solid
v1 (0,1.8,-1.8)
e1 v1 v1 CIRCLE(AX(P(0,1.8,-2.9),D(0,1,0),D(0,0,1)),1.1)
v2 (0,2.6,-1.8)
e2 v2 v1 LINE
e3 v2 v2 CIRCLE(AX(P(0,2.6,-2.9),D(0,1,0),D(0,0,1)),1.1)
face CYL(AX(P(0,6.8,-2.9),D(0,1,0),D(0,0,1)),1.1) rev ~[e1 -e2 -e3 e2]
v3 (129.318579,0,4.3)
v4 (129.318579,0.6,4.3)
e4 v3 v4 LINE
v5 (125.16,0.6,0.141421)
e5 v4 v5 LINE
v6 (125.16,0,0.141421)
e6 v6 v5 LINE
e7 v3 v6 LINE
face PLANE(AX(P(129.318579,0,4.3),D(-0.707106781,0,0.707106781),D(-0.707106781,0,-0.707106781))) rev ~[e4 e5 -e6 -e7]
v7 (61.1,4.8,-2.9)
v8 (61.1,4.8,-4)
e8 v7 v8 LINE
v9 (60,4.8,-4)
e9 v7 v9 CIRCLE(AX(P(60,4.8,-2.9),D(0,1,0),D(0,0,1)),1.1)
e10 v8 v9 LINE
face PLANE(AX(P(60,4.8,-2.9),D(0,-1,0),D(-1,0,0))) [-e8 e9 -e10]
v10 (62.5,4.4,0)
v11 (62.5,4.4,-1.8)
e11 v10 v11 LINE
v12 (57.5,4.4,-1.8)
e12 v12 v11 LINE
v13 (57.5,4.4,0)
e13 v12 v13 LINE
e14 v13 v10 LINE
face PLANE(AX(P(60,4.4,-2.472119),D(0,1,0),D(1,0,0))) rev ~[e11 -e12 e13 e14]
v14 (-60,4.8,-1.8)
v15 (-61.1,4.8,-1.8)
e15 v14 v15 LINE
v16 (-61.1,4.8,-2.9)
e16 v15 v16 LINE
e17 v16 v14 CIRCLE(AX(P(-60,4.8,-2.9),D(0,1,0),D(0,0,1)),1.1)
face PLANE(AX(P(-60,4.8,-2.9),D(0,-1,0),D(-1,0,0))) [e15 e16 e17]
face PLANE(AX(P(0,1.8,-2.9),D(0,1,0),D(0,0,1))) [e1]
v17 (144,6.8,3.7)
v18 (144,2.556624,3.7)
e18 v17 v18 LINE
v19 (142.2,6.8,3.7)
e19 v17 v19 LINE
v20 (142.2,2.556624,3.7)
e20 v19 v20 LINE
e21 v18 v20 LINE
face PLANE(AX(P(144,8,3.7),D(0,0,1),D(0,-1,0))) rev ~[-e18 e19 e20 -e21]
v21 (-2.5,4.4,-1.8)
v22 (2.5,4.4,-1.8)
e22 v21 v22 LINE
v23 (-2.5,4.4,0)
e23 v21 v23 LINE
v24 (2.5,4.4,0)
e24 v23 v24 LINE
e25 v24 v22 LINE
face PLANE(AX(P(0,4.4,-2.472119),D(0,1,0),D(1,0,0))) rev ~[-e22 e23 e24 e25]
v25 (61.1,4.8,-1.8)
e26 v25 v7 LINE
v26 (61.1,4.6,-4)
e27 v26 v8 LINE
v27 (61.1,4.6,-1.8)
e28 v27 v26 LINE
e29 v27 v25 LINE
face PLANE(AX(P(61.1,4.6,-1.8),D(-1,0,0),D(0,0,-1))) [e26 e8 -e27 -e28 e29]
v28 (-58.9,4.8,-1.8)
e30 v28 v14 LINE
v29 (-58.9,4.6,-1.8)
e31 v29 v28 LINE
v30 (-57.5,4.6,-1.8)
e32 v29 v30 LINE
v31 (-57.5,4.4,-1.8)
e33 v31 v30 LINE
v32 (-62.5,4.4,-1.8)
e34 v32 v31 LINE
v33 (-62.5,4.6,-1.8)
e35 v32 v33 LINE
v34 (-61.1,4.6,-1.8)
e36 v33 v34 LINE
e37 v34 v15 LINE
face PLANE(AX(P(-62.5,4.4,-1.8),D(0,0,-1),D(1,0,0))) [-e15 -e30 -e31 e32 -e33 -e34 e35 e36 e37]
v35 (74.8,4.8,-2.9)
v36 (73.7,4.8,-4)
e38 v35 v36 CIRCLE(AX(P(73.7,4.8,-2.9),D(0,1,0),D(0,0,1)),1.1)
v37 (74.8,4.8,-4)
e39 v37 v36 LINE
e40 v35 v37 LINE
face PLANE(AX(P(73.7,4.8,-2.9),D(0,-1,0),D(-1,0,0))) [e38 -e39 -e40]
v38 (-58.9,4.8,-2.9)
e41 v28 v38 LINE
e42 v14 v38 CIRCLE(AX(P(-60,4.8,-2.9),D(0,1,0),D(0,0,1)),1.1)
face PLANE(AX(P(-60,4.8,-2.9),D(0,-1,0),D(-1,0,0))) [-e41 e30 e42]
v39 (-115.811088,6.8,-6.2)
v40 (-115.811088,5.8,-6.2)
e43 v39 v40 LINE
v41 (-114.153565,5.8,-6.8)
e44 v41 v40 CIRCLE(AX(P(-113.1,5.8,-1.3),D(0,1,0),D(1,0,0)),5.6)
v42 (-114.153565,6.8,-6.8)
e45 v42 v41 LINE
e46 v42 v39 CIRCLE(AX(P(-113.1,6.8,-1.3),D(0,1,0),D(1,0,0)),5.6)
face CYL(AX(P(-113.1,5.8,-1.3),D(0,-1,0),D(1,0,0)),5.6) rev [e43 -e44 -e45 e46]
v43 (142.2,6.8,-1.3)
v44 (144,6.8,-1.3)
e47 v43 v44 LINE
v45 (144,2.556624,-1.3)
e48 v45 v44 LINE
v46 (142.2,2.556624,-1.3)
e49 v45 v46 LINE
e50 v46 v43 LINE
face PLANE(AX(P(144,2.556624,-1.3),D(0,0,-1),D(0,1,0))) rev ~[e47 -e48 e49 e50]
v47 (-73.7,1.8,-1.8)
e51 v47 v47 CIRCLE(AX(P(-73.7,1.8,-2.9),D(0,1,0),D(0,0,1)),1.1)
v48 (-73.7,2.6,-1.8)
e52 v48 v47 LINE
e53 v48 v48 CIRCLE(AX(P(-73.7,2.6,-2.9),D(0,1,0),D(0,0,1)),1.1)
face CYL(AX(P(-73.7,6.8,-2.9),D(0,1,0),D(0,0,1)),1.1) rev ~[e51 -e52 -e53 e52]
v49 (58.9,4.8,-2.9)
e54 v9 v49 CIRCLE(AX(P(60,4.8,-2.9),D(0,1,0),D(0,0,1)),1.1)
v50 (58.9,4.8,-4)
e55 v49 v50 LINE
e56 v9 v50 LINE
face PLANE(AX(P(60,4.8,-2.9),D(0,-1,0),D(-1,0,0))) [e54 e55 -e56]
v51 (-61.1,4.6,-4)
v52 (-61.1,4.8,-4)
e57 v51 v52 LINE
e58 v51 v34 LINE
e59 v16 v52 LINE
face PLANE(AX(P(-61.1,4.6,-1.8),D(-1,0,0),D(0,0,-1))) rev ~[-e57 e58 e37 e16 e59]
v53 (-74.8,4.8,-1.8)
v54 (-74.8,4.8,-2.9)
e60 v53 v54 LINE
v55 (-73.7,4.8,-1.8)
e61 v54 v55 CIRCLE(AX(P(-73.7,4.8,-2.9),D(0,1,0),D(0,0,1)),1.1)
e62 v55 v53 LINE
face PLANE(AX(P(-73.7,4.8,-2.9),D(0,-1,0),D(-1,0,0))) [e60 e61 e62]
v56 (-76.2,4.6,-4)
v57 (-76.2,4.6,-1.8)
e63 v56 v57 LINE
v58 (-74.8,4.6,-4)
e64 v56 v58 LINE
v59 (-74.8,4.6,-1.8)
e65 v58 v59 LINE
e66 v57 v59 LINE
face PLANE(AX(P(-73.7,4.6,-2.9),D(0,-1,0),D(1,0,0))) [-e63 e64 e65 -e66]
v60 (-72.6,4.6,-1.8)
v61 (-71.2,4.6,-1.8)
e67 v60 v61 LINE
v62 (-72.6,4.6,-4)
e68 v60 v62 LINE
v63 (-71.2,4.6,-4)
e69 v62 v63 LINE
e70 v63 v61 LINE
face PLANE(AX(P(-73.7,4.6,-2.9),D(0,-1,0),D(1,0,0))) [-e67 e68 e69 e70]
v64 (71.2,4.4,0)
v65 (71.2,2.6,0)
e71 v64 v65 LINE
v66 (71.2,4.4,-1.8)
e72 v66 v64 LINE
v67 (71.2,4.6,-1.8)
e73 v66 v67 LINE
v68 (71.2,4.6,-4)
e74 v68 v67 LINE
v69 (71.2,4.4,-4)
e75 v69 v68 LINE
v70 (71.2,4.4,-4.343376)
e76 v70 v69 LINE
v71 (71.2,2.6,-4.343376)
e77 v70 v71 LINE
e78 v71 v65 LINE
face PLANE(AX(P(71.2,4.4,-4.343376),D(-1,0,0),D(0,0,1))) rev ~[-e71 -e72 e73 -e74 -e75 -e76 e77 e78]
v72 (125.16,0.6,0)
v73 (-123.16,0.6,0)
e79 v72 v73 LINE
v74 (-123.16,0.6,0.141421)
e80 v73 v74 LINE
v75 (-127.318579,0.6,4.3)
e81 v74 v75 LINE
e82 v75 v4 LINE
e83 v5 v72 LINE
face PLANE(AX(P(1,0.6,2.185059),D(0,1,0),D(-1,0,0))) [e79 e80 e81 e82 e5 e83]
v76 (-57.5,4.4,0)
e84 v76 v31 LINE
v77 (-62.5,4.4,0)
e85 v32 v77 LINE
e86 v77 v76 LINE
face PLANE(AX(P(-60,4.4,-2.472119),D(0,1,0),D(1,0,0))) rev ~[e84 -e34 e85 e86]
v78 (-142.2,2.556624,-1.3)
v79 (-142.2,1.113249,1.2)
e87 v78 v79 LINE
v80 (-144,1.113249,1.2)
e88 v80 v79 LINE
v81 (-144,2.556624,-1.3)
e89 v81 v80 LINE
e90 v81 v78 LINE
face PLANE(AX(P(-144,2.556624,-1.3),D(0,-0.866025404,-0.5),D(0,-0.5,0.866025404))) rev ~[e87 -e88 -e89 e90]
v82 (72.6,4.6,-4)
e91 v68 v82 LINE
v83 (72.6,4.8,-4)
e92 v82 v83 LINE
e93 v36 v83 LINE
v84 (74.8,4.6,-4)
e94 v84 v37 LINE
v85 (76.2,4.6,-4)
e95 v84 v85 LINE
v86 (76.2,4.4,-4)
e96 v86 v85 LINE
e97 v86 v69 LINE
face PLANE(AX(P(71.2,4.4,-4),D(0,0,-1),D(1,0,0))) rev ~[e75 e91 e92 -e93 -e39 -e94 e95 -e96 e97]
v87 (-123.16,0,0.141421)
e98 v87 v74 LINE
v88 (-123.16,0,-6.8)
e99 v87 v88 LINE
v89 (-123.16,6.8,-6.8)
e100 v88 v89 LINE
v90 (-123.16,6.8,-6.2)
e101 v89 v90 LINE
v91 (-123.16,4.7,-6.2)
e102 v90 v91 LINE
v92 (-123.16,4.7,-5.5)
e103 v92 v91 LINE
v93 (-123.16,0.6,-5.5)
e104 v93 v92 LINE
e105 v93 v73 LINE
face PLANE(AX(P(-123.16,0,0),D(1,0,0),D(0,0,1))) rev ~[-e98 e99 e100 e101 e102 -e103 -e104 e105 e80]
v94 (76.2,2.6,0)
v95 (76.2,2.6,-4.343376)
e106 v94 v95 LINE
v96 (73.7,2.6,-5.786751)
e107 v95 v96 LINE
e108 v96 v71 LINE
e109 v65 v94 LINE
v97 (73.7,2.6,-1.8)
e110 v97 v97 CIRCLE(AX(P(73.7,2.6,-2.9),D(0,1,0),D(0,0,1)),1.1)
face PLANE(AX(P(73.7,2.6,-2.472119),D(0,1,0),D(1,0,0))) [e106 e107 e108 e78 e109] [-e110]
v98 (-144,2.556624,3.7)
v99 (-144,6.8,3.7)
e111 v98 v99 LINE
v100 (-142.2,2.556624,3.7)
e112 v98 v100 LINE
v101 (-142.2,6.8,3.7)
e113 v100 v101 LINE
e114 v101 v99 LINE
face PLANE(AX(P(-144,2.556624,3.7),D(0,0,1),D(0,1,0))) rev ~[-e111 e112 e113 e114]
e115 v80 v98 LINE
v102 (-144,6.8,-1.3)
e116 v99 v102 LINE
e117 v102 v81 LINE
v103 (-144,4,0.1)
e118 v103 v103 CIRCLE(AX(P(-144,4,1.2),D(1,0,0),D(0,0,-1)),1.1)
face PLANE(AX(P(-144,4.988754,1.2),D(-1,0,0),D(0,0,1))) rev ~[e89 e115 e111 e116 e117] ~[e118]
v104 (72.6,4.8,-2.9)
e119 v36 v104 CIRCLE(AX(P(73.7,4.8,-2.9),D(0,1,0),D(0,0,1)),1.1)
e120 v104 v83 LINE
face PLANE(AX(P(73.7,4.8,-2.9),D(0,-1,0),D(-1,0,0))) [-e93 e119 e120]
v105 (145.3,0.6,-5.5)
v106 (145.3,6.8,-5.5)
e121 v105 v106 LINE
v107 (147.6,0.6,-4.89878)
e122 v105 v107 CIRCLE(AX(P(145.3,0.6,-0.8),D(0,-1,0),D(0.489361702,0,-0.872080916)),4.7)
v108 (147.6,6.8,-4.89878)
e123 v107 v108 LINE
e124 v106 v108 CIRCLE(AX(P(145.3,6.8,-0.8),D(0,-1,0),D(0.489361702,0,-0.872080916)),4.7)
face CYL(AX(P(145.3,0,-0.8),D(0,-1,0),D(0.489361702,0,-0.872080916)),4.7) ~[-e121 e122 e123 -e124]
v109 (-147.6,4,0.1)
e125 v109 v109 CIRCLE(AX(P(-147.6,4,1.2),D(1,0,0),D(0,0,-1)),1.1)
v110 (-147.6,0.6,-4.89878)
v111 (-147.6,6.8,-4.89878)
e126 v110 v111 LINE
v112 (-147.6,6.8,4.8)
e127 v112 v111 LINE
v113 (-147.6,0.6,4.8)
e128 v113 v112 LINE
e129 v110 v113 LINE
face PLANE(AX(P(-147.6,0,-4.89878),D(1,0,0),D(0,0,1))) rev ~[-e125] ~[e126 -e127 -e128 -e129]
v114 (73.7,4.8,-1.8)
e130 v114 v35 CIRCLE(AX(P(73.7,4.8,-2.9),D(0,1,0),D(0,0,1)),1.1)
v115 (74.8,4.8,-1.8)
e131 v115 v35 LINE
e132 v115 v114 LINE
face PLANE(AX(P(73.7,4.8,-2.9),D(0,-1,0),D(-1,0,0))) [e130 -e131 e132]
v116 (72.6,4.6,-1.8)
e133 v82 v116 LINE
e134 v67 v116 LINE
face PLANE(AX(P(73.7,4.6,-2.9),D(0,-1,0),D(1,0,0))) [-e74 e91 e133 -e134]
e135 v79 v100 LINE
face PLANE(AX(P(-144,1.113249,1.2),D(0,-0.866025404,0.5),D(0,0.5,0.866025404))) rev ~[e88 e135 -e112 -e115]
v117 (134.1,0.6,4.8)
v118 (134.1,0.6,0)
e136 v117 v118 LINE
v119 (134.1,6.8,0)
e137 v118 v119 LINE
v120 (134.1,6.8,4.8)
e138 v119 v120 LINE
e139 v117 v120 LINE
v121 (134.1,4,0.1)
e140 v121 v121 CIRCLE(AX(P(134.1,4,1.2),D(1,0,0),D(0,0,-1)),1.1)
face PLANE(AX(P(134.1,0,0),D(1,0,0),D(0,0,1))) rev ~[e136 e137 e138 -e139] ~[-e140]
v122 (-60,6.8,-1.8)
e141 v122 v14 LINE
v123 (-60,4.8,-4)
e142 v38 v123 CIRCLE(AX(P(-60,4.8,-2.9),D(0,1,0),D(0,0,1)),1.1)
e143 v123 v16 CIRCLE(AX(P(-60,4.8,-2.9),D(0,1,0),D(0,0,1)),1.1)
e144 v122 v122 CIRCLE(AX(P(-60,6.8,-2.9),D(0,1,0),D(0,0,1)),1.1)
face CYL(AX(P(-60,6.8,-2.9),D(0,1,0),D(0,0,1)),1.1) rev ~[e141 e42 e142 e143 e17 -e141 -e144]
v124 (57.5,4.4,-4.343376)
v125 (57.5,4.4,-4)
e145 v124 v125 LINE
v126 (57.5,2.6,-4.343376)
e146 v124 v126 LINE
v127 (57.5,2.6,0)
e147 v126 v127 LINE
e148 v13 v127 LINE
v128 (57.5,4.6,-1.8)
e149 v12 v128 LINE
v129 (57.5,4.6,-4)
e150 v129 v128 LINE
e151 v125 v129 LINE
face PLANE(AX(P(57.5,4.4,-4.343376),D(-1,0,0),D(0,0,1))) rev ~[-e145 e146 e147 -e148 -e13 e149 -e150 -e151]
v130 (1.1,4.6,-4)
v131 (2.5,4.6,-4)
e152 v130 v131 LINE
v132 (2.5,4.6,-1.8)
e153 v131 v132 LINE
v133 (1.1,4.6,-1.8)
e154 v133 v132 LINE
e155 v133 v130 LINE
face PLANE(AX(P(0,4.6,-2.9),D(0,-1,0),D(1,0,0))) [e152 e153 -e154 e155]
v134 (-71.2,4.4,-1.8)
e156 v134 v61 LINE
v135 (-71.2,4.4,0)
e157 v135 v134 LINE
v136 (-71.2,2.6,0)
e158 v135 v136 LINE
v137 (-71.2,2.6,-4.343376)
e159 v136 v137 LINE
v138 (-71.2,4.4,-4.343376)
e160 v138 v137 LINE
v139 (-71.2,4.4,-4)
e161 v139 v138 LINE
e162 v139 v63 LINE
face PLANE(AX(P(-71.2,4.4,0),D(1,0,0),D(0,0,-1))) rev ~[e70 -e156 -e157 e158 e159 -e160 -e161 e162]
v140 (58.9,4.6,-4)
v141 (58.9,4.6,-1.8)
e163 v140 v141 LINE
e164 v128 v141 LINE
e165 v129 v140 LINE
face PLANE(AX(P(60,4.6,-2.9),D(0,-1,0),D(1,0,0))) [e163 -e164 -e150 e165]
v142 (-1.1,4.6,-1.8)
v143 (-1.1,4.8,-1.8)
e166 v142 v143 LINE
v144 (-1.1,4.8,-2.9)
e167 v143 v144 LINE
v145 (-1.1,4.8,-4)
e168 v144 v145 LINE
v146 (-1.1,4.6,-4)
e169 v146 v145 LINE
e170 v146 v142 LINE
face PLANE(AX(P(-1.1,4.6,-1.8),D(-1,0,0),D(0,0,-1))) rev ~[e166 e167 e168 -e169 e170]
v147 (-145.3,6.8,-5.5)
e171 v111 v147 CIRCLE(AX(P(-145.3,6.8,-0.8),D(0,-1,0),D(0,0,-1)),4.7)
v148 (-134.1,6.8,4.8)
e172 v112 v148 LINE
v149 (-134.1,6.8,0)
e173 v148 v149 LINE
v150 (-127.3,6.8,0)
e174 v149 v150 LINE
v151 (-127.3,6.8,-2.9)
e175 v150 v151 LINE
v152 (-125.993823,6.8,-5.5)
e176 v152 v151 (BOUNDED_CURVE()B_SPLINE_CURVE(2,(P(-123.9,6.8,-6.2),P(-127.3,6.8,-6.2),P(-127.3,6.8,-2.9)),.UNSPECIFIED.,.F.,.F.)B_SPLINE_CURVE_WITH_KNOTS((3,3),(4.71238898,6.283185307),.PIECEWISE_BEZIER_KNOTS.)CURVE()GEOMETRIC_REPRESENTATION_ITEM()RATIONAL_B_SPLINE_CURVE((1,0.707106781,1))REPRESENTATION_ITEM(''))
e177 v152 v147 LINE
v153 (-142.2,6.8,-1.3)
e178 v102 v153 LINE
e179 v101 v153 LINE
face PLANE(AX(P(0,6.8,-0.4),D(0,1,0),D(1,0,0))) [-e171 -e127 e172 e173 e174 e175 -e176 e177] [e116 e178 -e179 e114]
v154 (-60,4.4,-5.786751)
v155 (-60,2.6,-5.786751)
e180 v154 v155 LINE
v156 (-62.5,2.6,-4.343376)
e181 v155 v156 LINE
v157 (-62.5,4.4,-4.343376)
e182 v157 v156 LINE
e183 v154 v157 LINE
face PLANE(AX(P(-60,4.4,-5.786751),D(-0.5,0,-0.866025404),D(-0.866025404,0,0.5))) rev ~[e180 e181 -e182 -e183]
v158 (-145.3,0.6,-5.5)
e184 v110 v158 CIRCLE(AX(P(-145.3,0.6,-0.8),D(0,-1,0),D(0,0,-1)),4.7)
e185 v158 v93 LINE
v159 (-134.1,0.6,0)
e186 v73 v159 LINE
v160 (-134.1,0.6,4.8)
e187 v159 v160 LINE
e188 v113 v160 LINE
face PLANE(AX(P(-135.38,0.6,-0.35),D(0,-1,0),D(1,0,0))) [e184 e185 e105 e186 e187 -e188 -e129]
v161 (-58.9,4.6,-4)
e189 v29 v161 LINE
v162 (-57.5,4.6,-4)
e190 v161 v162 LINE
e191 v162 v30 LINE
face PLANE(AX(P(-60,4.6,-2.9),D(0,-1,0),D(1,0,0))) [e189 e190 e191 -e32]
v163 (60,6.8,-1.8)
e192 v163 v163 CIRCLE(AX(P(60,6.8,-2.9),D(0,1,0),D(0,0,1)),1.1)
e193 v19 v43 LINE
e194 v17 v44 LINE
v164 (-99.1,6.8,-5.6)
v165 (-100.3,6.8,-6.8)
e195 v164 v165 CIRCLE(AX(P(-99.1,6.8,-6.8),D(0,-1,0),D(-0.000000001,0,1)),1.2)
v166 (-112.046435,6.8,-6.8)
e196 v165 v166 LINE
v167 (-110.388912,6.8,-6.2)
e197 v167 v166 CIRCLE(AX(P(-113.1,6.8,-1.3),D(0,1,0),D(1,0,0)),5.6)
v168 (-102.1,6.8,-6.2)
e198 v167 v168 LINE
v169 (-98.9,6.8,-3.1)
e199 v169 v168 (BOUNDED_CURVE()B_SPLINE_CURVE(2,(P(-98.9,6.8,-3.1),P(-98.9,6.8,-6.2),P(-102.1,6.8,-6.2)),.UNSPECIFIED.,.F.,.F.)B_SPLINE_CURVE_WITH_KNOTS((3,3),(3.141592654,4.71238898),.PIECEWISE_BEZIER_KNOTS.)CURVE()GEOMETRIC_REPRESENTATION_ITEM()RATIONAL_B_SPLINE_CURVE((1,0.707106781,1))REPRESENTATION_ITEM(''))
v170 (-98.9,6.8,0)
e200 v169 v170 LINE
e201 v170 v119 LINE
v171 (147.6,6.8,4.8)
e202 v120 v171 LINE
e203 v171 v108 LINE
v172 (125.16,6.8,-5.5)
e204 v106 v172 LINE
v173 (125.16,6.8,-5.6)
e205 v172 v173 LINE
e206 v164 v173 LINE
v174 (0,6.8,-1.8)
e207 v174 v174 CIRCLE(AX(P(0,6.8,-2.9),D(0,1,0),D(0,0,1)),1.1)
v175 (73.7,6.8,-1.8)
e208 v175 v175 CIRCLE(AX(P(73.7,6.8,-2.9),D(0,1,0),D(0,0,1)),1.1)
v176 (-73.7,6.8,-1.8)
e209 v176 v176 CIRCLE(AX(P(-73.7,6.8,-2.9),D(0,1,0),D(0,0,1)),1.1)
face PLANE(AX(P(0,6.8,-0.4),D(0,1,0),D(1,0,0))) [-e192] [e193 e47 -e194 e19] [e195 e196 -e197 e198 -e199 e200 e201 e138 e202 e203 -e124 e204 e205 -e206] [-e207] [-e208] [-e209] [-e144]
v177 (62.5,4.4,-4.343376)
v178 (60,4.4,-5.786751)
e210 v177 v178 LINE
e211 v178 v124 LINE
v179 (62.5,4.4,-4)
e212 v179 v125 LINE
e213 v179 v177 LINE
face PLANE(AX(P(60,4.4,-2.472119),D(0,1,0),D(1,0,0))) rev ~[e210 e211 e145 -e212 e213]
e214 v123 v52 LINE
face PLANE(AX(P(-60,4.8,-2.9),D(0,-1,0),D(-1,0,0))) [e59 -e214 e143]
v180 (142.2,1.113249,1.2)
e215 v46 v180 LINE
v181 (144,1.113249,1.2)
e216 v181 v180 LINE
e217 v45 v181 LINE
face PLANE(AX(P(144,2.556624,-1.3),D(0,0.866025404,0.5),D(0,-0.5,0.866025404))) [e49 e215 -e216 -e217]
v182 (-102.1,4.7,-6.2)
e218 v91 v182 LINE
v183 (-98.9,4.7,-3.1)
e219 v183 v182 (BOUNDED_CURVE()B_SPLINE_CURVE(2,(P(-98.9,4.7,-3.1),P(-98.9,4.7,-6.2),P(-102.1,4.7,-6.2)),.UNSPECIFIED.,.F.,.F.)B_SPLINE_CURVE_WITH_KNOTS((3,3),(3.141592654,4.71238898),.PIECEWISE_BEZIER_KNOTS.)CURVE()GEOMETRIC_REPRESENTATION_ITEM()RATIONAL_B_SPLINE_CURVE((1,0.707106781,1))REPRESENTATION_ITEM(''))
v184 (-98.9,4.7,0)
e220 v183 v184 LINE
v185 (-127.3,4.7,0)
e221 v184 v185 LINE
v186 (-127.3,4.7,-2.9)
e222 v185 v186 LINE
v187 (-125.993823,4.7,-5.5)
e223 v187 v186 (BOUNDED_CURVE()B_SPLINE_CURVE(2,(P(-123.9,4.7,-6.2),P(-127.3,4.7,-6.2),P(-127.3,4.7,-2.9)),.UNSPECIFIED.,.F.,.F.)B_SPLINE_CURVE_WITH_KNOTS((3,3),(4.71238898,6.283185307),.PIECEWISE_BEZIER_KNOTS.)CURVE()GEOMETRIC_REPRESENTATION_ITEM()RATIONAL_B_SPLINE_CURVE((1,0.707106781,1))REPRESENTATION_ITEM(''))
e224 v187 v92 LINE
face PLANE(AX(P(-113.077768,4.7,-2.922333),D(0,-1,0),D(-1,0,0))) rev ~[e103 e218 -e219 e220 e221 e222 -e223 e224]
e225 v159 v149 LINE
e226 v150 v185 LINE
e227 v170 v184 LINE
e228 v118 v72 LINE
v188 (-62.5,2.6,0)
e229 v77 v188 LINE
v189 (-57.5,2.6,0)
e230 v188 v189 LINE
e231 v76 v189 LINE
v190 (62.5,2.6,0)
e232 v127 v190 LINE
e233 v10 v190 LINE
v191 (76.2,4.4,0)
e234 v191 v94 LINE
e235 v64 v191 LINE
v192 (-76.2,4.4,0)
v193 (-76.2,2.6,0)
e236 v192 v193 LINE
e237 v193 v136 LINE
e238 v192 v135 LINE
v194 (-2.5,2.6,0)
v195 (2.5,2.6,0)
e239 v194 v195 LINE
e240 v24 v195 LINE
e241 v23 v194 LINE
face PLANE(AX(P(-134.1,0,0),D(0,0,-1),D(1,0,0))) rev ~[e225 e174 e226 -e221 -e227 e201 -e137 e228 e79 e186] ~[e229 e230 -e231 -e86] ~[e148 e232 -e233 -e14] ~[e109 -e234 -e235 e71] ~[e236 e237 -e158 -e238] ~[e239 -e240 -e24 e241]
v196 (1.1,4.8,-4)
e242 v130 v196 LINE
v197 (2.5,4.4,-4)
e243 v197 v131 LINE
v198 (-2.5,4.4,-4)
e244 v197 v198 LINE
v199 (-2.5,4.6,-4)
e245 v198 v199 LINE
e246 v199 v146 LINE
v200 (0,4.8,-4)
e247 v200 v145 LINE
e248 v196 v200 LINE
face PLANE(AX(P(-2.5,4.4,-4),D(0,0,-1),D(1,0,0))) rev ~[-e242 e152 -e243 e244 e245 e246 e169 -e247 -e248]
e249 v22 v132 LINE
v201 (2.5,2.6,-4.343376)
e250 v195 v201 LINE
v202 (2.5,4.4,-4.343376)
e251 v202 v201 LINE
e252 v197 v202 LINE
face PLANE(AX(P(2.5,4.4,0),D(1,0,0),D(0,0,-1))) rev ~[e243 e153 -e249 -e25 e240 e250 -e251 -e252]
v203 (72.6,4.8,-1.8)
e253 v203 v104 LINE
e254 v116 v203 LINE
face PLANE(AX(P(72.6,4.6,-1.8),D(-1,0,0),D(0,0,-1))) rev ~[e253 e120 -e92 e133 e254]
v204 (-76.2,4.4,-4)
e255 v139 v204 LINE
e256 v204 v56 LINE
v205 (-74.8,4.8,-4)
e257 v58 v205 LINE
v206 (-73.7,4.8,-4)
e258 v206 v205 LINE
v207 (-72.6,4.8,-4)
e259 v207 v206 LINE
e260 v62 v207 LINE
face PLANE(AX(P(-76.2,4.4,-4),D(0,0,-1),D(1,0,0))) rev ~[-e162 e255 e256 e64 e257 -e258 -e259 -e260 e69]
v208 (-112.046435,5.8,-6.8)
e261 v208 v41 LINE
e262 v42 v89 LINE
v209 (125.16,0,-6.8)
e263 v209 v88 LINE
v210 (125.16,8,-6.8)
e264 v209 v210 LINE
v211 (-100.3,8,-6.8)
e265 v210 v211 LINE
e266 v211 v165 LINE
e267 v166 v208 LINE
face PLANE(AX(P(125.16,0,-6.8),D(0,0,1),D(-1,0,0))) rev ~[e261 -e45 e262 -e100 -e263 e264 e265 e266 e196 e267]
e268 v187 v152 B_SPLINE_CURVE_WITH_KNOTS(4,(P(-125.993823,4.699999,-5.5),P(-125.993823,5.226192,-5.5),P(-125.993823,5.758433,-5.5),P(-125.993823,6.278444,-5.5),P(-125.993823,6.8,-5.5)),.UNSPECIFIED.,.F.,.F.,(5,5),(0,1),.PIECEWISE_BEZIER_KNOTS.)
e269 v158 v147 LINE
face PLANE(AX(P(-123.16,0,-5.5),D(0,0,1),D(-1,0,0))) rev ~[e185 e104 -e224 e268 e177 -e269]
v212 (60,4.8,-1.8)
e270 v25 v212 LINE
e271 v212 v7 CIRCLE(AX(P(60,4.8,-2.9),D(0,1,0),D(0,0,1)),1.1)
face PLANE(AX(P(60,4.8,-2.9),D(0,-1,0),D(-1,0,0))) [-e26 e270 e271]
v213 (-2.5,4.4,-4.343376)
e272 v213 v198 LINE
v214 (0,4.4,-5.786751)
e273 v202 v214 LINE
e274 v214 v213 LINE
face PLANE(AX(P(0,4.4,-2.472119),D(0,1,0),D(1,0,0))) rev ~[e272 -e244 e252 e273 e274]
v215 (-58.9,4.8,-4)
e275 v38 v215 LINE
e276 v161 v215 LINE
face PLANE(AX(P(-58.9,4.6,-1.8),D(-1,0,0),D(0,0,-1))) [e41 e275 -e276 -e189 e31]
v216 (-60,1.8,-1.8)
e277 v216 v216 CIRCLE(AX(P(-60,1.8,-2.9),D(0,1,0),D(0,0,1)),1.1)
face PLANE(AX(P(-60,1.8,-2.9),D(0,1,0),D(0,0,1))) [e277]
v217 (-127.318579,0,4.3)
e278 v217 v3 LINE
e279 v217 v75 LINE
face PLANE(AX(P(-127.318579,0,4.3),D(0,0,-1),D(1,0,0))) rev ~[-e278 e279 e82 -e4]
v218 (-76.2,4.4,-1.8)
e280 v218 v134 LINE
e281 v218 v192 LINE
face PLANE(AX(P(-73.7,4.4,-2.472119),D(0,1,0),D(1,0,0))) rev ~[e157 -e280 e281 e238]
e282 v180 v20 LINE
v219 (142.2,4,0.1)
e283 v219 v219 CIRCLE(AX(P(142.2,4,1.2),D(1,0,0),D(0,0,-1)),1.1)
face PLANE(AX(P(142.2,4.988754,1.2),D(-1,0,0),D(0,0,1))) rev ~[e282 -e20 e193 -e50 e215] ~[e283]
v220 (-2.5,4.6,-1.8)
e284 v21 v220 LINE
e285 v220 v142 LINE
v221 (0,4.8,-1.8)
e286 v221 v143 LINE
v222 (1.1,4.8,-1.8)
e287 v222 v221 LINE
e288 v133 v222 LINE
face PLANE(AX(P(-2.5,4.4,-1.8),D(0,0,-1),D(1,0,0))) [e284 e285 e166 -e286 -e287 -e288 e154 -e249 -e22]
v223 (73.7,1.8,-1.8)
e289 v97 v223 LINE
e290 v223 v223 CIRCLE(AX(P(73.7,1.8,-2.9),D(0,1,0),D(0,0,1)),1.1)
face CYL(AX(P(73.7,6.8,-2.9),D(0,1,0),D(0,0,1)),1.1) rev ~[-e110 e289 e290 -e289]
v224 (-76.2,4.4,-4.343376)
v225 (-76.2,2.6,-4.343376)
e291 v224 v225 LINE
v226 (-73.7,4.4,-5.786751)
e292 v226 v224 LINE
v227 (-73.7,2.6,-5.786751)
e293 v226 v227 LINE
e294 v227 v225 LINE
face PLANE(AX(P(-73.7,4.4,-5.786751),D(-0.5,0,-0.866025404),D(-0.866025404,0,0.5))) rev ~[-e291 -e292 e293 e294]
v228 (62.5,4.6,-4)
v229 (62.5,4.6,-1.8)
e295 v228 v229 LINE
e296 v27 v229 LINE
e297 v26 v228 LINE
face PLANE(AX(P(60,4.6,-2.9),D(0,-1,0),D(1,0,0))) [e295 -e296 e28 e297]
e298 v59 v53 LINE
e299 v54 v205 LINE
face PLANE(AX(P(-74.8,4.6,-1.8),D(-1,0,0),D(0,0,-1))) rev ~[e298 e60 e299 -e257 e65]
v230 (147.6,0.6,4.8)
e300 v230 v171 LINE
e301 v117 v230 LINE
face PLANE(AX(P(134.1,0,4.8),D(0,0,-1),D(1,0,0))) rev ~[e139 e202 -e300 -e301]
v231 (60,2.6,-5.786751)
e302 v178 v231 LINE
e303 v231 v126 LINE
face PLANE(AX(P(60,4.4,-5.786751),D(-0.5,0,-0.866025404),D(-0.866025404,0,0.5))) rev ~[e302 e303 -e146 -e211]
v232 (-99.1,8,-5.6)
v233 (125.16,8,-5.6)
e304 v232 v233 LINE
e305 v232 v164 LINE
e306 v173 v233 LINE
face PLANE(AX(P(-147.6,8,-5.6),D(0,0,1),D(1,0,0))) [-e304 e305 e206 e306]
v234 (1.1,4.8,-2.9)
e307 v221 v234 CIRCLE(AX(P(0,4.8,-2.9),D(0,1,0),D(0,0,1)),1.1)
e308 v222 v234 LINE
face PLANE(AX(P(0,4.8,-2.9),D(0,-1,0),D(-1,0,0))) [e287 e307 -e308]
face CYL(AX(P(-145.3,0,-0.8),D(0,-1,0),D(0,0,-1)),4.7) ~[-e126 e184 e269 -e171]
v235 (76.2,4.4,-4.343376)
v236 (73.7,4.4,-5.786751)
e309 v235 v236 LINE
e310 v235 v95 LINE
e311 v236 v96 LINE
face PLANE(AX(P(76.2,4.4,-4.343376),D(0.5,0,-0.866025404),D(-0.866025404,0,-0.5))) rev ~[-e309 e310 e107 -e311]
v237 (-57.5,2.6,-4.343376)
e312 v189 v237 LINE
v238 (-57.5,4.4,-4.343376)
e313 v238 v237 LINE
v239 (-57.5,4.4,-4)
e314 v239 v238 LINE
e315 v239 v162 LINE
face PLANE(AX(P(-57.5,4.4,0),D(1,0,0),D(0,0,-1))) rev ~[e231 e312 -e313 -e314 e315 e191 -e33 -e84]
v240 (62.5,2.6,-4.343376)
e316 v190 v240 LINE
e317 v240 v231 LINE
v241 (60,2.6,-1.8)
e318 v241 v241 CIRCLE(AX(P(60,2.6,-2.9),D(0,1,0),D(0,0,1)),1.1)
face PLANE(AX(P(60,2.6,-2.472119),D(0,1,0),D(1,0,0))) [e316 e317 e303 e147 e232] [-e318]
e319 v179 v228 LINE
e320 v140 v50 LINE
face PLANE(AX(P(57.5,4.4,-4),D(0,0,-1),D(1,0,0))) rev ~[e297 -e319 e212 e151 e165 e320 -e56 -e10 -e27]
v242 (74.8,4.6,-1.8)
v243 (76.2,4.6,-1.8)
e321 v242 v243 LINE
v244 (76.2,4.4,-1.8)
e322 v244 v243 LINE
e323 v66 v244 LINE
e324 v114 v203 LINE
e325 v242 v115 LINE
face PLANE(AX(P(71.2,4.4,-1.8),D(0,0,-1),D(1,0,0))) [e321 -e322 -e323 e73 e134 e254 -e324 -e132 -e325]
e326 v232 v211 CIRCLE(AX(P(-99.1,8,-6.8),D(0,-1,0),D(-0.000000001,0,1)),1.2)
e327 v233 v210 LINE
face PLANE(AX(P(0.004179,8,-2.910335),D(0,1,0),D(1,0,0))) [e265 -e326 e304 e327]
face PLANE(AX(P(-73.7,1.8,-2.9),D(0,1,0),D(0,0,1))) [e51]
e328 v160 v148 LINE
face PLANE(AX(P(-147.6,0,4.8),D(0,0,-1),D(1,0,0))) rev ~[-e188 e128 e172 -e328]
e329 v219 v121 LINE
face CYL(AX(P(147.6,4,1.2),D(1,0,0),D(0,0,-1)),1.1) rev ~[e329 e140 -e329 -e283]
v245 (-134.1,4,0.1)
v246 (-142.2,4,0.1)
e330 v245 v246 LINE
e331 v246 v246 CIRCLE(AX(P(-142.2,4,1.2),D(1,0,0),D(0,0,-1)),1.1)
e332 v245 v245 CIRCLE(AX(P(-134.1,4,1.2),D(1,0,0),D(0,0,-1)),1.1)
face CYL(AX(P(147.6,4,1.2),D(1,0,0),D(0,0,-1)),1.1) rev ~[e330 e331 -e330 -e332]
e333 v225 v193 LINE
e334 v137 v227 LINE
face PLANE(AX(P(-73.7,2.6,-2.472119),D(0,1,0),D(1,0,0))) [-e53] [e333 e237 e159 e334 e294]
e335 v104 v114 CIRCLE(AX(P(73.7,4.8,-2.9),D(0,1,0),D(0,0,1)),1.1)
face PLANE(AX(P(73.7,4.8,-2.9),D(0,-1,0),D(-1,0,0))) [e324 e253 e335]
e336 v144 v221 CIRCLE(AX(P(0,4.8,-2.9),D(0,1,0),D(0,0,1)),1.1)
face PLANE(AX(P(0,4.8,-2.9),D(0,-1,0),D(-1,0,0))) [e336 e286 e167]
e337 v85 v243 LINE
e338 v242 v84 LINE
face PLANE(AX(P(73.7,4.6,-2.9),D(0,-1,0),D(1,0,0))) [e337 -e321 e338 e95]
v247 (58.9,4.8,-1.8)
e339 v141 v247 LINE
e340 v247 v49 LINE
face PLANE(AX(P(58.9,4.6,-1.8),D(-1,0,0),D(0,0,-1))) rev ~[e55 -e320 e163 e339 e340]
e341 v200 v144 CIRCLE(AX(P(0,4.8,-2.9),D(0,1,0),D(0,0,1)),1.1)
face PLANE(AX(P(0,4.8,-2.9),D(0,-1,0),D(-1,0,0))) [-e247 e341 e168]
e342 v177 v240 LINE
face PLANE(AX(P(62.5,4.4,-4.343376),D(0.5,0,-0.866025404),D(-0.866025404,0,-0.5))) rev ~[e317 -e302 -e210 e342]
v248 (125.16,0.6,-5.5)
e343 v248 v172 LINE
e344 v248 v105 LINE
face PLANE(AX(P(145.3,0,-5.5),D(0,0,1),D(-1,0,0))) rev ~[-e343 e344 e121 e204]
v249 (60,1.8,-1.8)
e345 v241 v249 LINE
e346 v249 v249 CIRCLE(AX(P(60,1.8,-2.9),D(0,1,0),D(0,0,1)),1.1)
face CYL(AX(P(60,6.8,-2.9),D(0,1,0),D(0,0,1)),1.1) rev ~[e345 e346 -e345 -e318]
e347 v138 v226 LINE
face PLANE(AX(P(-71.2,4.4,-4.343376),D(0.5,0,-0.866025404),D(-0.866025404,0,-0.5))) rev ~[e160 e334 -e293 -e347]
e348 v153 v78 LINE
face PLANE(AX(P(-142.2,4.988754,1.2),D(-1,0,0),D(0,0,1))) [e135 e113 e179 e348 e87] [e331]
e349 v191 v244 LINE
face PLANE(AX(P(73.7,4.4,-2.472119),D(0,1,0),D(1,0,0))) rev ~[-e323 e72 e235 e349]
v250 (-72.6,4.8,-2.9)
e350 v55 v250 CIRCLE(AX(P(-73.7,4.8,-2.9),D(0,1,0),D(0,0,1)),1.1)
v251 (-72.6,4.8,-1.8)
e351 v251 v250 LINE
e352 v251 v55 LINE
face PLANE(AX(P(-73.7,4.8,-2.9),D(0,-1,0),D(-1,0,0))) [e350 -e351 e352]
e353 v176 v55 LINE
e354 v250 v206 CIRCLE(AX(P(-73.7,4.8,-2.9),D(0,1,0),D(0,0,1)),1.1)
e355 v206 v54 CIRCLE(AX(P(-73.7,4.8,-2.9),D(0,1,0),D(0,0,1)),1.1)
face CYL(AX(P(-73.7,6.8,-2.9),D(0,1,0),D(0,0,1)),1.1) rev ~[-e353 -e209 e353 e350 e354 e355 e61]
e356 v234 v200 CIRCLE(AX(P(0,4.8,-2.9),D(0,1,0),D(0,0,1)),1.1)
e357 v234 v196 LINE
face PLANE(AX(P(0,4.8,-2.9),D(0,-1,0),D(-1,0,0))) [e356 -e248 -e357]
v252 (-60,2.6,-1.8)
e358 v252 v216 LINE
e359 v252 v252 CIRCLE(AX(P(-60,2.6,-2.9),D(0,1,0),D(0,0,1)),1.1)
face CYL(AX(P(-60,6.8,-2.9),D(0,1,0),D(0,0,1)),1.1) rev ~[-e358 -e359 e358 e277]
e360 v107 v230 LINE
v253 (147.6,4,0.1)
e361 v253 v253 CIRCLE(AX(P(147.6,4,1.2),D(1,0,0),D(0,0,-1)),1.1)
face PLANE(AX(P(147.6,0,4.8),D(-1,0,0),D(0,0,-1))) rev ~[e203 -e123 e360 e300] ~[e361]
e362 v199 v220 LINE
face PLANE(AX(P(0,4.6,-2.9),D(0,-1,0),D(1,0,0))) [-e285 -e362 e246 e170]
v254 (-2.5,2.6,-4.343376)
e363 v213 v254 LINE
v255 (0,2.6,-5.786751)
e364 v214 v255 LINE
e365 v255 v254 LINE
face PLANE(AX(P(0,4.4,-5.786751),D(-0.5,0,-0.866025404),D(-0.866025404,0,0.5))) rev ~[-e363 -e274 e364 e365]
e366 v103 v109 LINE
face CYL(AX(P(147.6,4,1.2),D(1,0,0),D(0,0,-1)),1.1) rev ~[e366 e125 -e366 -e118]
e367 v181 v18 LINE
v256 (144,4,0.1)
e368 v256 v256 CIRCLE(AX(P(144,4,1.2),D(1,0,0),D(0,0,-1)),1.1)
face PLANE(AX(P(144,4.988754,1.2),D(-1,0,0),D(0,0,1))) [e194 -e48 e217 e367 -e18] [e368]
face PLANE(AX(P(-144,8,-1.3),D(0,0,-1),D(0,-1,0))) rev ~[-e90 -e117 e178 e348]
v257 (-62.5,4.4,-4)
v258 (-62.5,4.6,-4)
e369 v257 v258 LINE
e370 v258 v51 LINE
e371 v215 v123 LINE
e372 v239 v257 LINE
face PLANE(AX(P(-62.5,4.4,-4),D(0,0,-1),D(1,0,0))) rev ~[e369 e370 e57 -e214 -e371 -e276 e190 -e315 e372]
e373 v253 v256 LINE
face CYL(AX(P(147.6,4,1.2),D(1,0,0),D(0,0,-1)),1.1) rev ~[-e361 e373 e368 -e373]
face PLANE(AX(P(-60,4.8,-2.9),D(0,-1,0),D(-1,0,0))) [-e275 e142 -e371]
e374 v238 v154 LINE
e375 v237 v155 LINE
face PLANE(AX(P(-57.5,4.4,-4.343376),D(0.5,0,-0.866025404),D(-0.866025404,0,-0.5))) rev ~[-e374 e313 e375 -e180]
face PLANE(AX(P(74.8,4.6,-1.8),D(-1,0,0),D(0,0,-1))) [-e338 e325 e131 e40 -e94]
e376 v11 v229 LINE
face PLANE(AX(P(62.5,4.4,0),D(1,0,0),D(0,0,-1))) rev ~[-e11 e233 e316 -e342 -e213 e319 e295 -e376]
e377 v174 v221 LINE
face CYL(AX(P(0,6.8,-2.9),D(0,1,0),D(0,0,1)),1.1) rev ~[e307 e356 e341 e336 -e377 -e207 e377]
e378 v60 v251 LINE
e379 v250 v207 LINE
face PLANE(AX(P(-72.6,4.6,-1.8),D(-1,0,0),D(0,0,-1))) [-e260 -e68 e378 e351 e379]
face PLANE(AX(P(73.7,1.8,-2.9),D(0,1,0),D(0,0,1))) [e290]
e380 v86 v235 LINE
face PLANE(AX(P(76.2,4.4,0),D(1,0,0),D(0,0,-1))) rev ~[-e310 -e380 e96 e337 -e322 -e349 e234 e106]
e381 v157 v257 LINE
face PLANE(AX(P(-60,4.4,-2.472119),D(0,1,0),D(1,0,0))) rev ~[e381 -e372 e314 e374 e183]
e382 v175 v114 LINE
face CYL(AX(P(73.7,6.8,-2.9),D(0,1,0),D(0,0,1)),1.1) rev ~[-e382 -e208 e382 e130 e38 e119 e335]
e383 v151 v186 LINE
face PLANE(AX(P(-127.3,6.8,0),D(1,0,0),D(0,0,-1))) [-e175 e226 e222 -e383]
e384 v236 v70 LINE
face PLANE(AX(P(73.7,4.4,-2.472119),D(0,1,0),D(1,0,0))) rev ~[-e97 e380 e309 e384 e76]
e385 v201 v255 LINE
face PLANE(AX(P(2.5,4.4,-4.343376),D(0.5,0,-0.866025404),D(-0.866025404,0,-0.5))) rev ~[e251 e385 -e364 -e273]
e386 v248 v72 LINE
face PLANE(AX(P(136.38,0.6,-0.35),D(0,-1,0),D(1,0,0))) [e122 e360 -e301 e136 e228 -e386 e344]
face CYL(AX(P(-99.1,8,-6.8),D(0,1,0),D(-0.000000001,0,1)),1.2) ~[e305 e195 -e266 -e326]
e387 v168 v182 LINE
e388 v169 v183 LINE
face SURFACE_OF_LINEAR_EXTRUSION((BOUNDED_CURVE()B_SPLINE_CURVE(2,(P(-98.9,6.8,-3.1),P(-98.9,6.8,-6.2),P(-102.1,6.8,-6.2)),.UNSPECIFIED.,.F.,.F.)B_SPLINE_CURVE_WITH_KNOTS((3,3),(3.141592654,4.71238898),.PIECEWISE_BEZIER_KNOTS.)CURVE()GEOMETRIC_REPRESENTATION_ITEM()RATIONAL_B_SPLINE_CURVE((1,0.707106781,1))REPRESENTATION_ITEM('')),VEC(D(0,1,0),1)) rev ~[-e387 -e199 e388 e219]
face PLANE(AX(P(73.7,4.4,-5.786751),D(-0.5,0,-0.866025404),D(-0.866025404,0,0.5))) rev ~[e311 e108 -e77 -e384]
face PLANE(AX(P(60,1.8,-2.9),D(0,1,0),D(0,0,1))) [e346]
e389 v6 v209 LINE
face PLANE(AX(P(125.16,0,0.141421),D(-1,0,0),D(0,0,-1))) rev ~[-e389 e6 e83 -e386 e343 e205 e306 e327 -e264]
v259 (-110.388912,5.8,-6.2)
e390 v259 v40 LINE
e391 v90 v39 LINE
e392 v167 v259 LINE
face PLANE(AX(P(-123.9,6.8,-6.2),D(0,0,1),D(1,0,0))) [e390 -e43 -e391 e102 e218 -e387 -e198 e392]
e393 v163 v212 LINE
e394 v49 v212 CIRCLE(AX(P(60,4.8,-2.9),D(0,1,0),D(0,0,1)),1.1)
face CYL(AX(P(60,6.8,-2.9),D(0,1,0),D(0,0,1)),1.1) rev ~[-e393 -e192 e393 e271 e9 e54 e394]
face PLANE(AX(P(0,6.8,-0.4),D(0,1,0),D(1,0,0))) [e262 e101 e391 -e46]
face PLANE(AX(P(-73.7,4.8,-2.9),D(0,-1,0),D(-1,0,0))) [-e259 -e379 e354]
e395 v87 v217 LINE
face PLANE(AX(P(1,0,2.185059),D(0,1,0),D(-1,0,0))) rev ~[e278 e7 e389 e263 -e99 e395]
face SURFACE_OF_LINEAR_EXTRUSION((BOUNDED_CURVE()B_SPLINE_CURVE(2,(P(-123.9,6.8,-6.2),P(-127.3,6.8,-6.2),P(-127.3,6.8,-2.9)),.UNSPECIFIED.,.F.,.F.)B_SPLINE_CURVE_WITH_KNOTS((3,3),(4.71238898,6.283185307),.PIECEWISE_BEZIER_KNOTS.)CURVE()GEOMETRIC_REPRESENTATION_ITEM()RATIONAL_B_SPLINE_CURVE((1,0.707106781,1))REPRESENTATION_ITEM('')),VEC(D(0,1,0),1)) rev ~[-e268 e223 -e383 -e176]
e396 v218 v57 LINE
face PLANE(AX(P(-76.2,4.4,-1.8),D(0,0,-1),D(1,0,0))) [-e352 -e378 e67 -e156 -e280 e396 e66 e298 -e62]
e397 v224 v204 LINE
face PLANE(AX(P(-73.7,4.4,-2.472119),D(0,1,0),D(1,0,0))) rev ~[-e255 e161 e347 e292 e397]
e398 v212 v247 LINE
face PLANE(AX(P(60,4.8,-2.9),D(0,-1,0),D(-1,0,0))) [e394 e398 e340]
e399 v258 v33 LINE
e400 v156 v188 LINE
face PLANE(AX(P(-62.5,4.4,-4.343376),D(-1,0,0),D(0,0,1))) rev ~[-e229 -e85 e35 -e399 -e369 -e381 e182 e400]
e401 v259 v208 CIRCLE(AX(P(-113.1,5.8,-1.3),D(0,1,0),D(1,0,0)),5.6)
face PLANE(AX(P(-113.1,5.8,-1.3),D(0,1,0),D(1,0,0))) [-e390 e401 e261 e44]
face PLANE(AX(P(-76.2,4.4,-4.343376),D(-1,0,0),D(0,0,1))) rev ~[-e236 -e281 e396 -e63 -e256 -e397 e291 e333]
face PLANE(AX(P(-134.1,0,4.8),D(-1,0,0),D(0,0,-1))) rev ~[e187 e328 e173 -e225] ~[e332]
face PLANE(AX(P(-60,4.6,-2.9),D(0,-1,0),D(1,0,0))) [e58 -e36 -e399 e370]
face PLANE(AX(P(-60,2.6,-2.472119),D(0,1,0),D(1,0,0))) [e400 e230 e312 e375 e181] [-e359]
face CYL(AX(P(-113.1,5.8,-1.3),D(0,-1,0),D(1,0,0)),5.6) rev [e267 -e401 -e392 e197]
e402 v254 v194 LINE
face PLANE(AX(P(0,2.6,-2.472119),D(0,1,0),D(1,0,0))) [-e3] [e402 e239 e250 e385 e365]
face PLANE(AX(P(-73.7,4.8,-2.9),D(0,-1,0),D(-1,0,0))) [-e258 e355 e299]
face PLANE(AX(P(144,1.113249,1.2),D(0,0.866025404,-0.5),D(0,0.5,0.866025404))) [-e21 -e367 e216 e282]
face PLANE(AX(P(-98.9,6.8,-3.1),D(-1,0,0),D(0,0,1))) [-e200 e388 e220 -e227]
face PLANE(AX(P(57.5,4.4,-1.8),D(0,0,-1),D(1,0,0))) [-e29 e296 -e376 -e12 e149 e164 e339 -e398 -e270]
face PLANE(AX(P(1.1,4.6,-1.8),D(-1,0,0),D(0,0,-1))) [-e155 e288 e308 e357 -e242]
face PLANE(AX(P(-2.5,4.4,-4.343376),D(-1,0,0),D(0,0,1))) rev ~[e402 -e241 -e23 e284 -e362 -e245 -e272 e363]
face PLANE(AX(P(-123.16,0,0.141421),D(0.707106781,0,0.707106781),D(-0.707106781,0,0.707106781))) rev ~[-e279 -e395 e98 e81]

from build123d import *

# Parameters (mm, degrees)
BOSS_EXTRUDE1_DEPTH = 8
SKETCH2_W           = 22.44
SKETCH2_H           = 10.3
CUT_EXTRUDE1_DEPTH  = 0.6
SKETCH3_W           = 24.44
SKETCH3_H           = 10.3
CUT_EXTRUDE2_DEPTH  = 0.6
BOSS_EXTRUDE2_DEPTH = 0.6
SKETCH5_R           = 1.1
CUT_EXTRUDE3_DEPTH  = 296.386661852
CUT_EXTRUDE4_START  = -3.6
CUT_EXTRUDE4_DEPTH  = 1.8
CUT_EXTRUDE5_START  = -3.6
CUT_EXTRUDE5_DEPTH  = 1.8
SKETCH8_W           = 295.2
SKETCH8_H           = 10.4
CUT_EXTRUDE6_DEPTH  = 1.2
CUT_EXTRUDE7_START  = -2.4
CUT_EXTRUDE7_DEPTH  = 1.8
SKETCH10_R          = 1.1
CUT_EXTRUDE8_DEPTH  = 5
SKETCH11_W          = 5
SKETCH11_H          = 2.2
CUT_EXTRUDE9_DEPTH  = 0.2
SKETCH12_W          = 2.2
SKETCH12_H          = 2.2
CUT_EXTRUDE10_DEPTH = 0.2
CUT_EXTRUDE11_DEPTH = 1.2
CUT_EXTRUDE12_DEPTH = 2.1
CUT_EXTRUDE13_START = 1.1
SKETCH15_R          = 5.6
CUT_EXTRUDE13_DEPTH = 1


with BuildPart() as part:
    # Sketch1 → Boss-Extrude1 (new body)
    with BuildSketch(Plane(origin=(0, 0, 0), x_dir=(1, 0, 0), z_dir=(0, 1, 0))):
        with BuildLine():
            Line((-134.1, 0), (134.1, 0))
            Line((134.1, 0), (134.1, -4.8))
            Line((134.1, -4.8), (147.6, -4.8))
            Line((147.6, -4.8), (147.6, 4.898780306))
            ThreePointArc((147.6, 4.898780306), (146.488640518, 5.347211642), (145.3, 5.5))
            Line((145.3, 5.5), (125.16, 5.5))
            Line((125.16, 5.5), (125.16, 6.8))
            Line((125.16, 6.8), (-123.16, 6.8))
            Line((-123.16, 6.8), (-123.16, 5.5))
            Line((-123.16, 5.5), (-145.3, 5.5))
            ThreePointArc((-145.3, 5.5), (-146.488640518, 5.347211642), (-147.6, 4.898780306))
            Line((-147.6, 4.898780306), (-147.6, -4.8))
            Line((-147.6, -4.8), (-134.1, -4.8))
            Line((-134.1, -4.8), (-134.1, 0))
        make_face()
    extrude(amount=BOSS_EXTRUDE1_DEPTH)

    # Sketch2 → Cut-Extrude1 (cut)
    with BuildSketch(Plane.XZ):
        with Locations((136.38, -0.35)):
            Rectangle(SKETCH2_W, SKETCH2_H)
    extrude(amount=-CUT_EXTRUDE1_DEPTH, mode=Mode.SUBTRACT)

    # Sketch3 → Cut-Extrude2 (cut)
    with BuildSketch(Plane.XZ):
        with Locations((-135.38, -0.35)):
            Rectangle(SKETCH3_W, SKETCH3_H)
    extrude(amount=-CUT_EXTRUDE2_DEPTH, mode=Mode.SUBTRACT)

    # Sketch4 → Boss-Extrude2 (add)
    with BuildSketch(Plane.XZ):
        Polygon((129.318578644, 4.3), (125.16, 0.141421356), (125.16, 0), (-123.16, 0), (-123.16, 0.141421356), (-127.318578644, 4.3), align=None)
    extrude(amount=-BOSS_EXTRUDE2_DEPTH)

    # Sketch5 → Cut-Extrude3 (cut, through all)
    with BuildSketch(Plane(origin=(147.6, 0, 0), x_dir=(0, 0, -1), z_dir=(1, 0, 0))):
        with Locations((-1.2, 4)):
            Circle(SKETCH5_R)
    extrude(amount=-CUT_EXTRUDE3_DEPTH, mode=Mode.SUBTRACT)

    # Sketch6 → Cut-Extrude4 (cut)
    with BuildSketch(Plane(origin=(147.6, 0, 0), x_dir=(0, 0, -1), z_dir=(1, 0, 0)).offset(CUT_EXTRUDE4_START)):
        Polygon((-3.7, 5.443375673), (-3.7, 8), (1.3, 8), (1.3, 5.443375673), (1.3, 2.556624327), (-1.2, 1.113248654), (-3.7, 2.556624327), align=None)
    extrude(amount=-CUT_EXTRUDE4_DEPTH, mode=Mode.SUBTRACT)

    # Sketch7 → Cut-Extrude5 (cut)
    with BuildSketch(Plane.ZY.offset(147.6).offset(CUT_EXTRUDE5_START)):
        Polygon((-1.3, 8), (-1.3, 2.556624327), (1.2, 1.113248654), (3.7, 2.556624327), (3.7, 8), align=None)
    extrude(amount=-CUT_EXTRUDE5_DEPTH, mode=Mode.SUBTRACT)

    # Sketch8 → Cut-Extrude6 (cut)
    with BuildSketch(Plane(origin=(0, 8, 0), x_dir=(1, 0, 0), z_dir=(0, 1, 0))):
        with Locations((0, 0.4)):
            Rectangle(SKETCH8_W, SKETCH8_H)
    extrude(amount=-CUT_EXTRUDE6_DEPTH, mode=Mode.SUBTRACT)

    # Sketch9 → Cut-Extrude7 (cut)
    with BuildSketch(Plane(origin=(0, 6.8, 0), x_dir=(1, 0, 0), z_dir=(0, 1, 0)).offset(CUT_EXTRUDE7_START)):
        Polygon((-71.2, 1.456624327), (-71.2, 4.343375673), (-73.7, 5.786751346), (-76.2, 4.343375673), (-76.2, 1.456624327), (-76.2, 0), (-71.2, 0), align=None)
        Polygon((76.2, 1.456624327), (76.2, 4.343375673), (73.7, 5.786751346), (71.2, 4.343375673), (71.2, 1.456624327), (71.2, 0), (76.2, 0), align=None)
        Polygon((-57.5, 1.456624327), (-57.5, 4.343375673), (-60, 5.786751346), (-62.5, 4.343375673), (-62.5, 1.456624327), (-62.5, 0), (-57.5, 0), align=None)
        Polygon((2.5, 1.456624327), (2.5, 4.343375673), (0, 5.786751346), (-2.5, 4.343375673), (-2.5, 1.456624327), (-2.5, 0), (2.5, 0), align=None)
        Polygon((62.5, 1.456624327), (62.5, 4.343375673), (60, 5.786751346), (57.5, 4.343375673), (57.5, 1.456624327), (57.5, 0), (62.5, 0), align=None)
    extrude(amount=-CUT_EXTRUDE7_DEPTH, mode=Mode.SUBTRACT)

    # Sketch10 → Cut-Extrude8 (cut)
    with BuildSketch(Plane(origin=(0, 6.8, 0), x_dir=(1, 0, 0), z_dir=(0, 1, 0))):
        with Locations(Location((-73.7, 2.9, 0), (0, 0, 270))):
            Circle(SKETCH10_R)
        with Locations(Location((73.7, 2.9, 0), (0, 0, 270))):
            Circle(SKETCH10_R)
        with Locations(Location((60, 2.9, 0), (0, 0, 270))):
            Circle(SKETCH10_R)
        with Locations(Location((0, 2.9, 0), (0, 0, 270))):
            Circle(SKETCH10_R)
        with Locations(Location((-60, 2.9, 0), (0, 0, 270))):
            Circle(SKETCH10_R)
    extrude(amount=-CUT_EXTRUDE8_DEPTH, mode=Mode.SUBTRACT)

    # Sketch11 → Cut-Extrude9 (cut)
    with BuildSketch(Plane.XZ.offset(-4.4)):
        with Locations((73.7, -2.9)):
            Rectangle(SKETCH11_W, SKETCH11_H)
        with Locations((60, -2.9)):
            Rectangle(SKETCH11_W, SKETCH11_H)
        with Locations((0, -2.9)):
            Rectangle(SKETCH11_W, SKETCH11_H)
        with Locations((-60, -2.9)):
            Rectangle(SKETCH11_W, SKETCH11_H)
        with Locations((-73.7, -2.9)):
            Rectangle(SKETCH11_W, SKETCH11_H)
    extrude(amount=-CUT_EXTRUDE9_DEPTH, mode=Mode.SUBTRACT)

    # Sketch12 → Cut-Extrude10 (cut)
    with BuildSketch(Plane(origin=(0, 4.6, 0), x_dir=(-1, 0, 0), z_dir=(0, -1, 0))):
        with Locations((73.7, 2.9)):
            Rectangle(SKETCH12_W, SKETCH12_H)
        with Locations((60, 2.9)):
            Rectangle(SKETCH12_W, SKETCH12_H)
        with Locations((0, 2.9)):
            Rectangle(SKETCH12_W, SKETCH12_H)
        with Locations((-60, 2.9)):
            Rectangle(SKETCH12_W, SKETCH12_H)
        with Locations((-73.7, 2.9)):
            Rectangle(SKETCH12_W, SKETCH12_H)
    extrude(amount=-CUT_EXTRUDE10_DEPTH, mode=Mode.SUBTRACT)

    # Sketch13 → Cut-Extrude11 (cut)
    with BuildSketch(Plane(origin=(0, 8, 0), x_dir=(1, 0, 0), z_dir=(0, 1, 0))):
        with BuildLine():
            Line((-100.3, 6.8), (-123.16, 6.8))
            Line((-123.16, 6.8), (-123.16, 5.5))
            Line((-123.16, 5.5), (-99.1, 5.6))
            ThreePointArc((-99.1, 5.6), (-99.948528137, 5.951471863), (-100.3, 6.8))
        make_face()
    extrude(amount=-CUT_EXTRUDE11_DEPTH, mode=Mode.SUBTRACT)

    # Sketch14 → Cut-Extrude12 (cut)
    with BuildSketch(Plane(origin=(0, 6.8, 0), x_dir=(1, 0, 0), z_dir=(0, 1, 0))):
        with BuildLine():
            Line((-98.9, 0), (-127.3, 0))
            Line((-127.3, 0), (-127.3, 2.9))
            add(Edge.make_bspline(
                [(-123.9, 6.2), (-127.3, 6.2), (-127.3, 2.9)],
                knots=[4.71238898, 4.71238898, 4.71238898, 6.283185307, 6.283185307, 6.283185307], degree=2, weights=[1, 0.707106781, 1]))
            Line((-123.9, 6.2), (-102.1, 6.2))
            add(Edge.make_bspline(
                [(-98.9, 3.1), (-98.9, 6.2), (-102.1, 6.2)],
                knots=[3.141592654, 3.141592654, 3.141592654, 4.71238898, 4.71238898, 4.71238898], degree=2, weights=[1, 0.707106781, 1]))
            Line((-98.9, 3.1), (-98.9, 0))
        make_face()
    extrude(amount=-CUT_EXTRUDE12_DEPTH, mode=Mode.SUBTRACT)

    # Sketch15 → Cut-Extrude13 (cut)
    with BuildSketch(Plane(origin=(0, 4.7, 0), x_dir=(1, 0, 0), z_dir=(0, 1, 0)).offset(CUT_EXTRUDE13_START)):
        with Locations((-113.1, 1.3)):
            Circle(SKETCH15_R)
    extrude(amount=CUT_EXTRUDE13_DEPTH, mode=Mode.SUBTRACT)


solid = part.part
